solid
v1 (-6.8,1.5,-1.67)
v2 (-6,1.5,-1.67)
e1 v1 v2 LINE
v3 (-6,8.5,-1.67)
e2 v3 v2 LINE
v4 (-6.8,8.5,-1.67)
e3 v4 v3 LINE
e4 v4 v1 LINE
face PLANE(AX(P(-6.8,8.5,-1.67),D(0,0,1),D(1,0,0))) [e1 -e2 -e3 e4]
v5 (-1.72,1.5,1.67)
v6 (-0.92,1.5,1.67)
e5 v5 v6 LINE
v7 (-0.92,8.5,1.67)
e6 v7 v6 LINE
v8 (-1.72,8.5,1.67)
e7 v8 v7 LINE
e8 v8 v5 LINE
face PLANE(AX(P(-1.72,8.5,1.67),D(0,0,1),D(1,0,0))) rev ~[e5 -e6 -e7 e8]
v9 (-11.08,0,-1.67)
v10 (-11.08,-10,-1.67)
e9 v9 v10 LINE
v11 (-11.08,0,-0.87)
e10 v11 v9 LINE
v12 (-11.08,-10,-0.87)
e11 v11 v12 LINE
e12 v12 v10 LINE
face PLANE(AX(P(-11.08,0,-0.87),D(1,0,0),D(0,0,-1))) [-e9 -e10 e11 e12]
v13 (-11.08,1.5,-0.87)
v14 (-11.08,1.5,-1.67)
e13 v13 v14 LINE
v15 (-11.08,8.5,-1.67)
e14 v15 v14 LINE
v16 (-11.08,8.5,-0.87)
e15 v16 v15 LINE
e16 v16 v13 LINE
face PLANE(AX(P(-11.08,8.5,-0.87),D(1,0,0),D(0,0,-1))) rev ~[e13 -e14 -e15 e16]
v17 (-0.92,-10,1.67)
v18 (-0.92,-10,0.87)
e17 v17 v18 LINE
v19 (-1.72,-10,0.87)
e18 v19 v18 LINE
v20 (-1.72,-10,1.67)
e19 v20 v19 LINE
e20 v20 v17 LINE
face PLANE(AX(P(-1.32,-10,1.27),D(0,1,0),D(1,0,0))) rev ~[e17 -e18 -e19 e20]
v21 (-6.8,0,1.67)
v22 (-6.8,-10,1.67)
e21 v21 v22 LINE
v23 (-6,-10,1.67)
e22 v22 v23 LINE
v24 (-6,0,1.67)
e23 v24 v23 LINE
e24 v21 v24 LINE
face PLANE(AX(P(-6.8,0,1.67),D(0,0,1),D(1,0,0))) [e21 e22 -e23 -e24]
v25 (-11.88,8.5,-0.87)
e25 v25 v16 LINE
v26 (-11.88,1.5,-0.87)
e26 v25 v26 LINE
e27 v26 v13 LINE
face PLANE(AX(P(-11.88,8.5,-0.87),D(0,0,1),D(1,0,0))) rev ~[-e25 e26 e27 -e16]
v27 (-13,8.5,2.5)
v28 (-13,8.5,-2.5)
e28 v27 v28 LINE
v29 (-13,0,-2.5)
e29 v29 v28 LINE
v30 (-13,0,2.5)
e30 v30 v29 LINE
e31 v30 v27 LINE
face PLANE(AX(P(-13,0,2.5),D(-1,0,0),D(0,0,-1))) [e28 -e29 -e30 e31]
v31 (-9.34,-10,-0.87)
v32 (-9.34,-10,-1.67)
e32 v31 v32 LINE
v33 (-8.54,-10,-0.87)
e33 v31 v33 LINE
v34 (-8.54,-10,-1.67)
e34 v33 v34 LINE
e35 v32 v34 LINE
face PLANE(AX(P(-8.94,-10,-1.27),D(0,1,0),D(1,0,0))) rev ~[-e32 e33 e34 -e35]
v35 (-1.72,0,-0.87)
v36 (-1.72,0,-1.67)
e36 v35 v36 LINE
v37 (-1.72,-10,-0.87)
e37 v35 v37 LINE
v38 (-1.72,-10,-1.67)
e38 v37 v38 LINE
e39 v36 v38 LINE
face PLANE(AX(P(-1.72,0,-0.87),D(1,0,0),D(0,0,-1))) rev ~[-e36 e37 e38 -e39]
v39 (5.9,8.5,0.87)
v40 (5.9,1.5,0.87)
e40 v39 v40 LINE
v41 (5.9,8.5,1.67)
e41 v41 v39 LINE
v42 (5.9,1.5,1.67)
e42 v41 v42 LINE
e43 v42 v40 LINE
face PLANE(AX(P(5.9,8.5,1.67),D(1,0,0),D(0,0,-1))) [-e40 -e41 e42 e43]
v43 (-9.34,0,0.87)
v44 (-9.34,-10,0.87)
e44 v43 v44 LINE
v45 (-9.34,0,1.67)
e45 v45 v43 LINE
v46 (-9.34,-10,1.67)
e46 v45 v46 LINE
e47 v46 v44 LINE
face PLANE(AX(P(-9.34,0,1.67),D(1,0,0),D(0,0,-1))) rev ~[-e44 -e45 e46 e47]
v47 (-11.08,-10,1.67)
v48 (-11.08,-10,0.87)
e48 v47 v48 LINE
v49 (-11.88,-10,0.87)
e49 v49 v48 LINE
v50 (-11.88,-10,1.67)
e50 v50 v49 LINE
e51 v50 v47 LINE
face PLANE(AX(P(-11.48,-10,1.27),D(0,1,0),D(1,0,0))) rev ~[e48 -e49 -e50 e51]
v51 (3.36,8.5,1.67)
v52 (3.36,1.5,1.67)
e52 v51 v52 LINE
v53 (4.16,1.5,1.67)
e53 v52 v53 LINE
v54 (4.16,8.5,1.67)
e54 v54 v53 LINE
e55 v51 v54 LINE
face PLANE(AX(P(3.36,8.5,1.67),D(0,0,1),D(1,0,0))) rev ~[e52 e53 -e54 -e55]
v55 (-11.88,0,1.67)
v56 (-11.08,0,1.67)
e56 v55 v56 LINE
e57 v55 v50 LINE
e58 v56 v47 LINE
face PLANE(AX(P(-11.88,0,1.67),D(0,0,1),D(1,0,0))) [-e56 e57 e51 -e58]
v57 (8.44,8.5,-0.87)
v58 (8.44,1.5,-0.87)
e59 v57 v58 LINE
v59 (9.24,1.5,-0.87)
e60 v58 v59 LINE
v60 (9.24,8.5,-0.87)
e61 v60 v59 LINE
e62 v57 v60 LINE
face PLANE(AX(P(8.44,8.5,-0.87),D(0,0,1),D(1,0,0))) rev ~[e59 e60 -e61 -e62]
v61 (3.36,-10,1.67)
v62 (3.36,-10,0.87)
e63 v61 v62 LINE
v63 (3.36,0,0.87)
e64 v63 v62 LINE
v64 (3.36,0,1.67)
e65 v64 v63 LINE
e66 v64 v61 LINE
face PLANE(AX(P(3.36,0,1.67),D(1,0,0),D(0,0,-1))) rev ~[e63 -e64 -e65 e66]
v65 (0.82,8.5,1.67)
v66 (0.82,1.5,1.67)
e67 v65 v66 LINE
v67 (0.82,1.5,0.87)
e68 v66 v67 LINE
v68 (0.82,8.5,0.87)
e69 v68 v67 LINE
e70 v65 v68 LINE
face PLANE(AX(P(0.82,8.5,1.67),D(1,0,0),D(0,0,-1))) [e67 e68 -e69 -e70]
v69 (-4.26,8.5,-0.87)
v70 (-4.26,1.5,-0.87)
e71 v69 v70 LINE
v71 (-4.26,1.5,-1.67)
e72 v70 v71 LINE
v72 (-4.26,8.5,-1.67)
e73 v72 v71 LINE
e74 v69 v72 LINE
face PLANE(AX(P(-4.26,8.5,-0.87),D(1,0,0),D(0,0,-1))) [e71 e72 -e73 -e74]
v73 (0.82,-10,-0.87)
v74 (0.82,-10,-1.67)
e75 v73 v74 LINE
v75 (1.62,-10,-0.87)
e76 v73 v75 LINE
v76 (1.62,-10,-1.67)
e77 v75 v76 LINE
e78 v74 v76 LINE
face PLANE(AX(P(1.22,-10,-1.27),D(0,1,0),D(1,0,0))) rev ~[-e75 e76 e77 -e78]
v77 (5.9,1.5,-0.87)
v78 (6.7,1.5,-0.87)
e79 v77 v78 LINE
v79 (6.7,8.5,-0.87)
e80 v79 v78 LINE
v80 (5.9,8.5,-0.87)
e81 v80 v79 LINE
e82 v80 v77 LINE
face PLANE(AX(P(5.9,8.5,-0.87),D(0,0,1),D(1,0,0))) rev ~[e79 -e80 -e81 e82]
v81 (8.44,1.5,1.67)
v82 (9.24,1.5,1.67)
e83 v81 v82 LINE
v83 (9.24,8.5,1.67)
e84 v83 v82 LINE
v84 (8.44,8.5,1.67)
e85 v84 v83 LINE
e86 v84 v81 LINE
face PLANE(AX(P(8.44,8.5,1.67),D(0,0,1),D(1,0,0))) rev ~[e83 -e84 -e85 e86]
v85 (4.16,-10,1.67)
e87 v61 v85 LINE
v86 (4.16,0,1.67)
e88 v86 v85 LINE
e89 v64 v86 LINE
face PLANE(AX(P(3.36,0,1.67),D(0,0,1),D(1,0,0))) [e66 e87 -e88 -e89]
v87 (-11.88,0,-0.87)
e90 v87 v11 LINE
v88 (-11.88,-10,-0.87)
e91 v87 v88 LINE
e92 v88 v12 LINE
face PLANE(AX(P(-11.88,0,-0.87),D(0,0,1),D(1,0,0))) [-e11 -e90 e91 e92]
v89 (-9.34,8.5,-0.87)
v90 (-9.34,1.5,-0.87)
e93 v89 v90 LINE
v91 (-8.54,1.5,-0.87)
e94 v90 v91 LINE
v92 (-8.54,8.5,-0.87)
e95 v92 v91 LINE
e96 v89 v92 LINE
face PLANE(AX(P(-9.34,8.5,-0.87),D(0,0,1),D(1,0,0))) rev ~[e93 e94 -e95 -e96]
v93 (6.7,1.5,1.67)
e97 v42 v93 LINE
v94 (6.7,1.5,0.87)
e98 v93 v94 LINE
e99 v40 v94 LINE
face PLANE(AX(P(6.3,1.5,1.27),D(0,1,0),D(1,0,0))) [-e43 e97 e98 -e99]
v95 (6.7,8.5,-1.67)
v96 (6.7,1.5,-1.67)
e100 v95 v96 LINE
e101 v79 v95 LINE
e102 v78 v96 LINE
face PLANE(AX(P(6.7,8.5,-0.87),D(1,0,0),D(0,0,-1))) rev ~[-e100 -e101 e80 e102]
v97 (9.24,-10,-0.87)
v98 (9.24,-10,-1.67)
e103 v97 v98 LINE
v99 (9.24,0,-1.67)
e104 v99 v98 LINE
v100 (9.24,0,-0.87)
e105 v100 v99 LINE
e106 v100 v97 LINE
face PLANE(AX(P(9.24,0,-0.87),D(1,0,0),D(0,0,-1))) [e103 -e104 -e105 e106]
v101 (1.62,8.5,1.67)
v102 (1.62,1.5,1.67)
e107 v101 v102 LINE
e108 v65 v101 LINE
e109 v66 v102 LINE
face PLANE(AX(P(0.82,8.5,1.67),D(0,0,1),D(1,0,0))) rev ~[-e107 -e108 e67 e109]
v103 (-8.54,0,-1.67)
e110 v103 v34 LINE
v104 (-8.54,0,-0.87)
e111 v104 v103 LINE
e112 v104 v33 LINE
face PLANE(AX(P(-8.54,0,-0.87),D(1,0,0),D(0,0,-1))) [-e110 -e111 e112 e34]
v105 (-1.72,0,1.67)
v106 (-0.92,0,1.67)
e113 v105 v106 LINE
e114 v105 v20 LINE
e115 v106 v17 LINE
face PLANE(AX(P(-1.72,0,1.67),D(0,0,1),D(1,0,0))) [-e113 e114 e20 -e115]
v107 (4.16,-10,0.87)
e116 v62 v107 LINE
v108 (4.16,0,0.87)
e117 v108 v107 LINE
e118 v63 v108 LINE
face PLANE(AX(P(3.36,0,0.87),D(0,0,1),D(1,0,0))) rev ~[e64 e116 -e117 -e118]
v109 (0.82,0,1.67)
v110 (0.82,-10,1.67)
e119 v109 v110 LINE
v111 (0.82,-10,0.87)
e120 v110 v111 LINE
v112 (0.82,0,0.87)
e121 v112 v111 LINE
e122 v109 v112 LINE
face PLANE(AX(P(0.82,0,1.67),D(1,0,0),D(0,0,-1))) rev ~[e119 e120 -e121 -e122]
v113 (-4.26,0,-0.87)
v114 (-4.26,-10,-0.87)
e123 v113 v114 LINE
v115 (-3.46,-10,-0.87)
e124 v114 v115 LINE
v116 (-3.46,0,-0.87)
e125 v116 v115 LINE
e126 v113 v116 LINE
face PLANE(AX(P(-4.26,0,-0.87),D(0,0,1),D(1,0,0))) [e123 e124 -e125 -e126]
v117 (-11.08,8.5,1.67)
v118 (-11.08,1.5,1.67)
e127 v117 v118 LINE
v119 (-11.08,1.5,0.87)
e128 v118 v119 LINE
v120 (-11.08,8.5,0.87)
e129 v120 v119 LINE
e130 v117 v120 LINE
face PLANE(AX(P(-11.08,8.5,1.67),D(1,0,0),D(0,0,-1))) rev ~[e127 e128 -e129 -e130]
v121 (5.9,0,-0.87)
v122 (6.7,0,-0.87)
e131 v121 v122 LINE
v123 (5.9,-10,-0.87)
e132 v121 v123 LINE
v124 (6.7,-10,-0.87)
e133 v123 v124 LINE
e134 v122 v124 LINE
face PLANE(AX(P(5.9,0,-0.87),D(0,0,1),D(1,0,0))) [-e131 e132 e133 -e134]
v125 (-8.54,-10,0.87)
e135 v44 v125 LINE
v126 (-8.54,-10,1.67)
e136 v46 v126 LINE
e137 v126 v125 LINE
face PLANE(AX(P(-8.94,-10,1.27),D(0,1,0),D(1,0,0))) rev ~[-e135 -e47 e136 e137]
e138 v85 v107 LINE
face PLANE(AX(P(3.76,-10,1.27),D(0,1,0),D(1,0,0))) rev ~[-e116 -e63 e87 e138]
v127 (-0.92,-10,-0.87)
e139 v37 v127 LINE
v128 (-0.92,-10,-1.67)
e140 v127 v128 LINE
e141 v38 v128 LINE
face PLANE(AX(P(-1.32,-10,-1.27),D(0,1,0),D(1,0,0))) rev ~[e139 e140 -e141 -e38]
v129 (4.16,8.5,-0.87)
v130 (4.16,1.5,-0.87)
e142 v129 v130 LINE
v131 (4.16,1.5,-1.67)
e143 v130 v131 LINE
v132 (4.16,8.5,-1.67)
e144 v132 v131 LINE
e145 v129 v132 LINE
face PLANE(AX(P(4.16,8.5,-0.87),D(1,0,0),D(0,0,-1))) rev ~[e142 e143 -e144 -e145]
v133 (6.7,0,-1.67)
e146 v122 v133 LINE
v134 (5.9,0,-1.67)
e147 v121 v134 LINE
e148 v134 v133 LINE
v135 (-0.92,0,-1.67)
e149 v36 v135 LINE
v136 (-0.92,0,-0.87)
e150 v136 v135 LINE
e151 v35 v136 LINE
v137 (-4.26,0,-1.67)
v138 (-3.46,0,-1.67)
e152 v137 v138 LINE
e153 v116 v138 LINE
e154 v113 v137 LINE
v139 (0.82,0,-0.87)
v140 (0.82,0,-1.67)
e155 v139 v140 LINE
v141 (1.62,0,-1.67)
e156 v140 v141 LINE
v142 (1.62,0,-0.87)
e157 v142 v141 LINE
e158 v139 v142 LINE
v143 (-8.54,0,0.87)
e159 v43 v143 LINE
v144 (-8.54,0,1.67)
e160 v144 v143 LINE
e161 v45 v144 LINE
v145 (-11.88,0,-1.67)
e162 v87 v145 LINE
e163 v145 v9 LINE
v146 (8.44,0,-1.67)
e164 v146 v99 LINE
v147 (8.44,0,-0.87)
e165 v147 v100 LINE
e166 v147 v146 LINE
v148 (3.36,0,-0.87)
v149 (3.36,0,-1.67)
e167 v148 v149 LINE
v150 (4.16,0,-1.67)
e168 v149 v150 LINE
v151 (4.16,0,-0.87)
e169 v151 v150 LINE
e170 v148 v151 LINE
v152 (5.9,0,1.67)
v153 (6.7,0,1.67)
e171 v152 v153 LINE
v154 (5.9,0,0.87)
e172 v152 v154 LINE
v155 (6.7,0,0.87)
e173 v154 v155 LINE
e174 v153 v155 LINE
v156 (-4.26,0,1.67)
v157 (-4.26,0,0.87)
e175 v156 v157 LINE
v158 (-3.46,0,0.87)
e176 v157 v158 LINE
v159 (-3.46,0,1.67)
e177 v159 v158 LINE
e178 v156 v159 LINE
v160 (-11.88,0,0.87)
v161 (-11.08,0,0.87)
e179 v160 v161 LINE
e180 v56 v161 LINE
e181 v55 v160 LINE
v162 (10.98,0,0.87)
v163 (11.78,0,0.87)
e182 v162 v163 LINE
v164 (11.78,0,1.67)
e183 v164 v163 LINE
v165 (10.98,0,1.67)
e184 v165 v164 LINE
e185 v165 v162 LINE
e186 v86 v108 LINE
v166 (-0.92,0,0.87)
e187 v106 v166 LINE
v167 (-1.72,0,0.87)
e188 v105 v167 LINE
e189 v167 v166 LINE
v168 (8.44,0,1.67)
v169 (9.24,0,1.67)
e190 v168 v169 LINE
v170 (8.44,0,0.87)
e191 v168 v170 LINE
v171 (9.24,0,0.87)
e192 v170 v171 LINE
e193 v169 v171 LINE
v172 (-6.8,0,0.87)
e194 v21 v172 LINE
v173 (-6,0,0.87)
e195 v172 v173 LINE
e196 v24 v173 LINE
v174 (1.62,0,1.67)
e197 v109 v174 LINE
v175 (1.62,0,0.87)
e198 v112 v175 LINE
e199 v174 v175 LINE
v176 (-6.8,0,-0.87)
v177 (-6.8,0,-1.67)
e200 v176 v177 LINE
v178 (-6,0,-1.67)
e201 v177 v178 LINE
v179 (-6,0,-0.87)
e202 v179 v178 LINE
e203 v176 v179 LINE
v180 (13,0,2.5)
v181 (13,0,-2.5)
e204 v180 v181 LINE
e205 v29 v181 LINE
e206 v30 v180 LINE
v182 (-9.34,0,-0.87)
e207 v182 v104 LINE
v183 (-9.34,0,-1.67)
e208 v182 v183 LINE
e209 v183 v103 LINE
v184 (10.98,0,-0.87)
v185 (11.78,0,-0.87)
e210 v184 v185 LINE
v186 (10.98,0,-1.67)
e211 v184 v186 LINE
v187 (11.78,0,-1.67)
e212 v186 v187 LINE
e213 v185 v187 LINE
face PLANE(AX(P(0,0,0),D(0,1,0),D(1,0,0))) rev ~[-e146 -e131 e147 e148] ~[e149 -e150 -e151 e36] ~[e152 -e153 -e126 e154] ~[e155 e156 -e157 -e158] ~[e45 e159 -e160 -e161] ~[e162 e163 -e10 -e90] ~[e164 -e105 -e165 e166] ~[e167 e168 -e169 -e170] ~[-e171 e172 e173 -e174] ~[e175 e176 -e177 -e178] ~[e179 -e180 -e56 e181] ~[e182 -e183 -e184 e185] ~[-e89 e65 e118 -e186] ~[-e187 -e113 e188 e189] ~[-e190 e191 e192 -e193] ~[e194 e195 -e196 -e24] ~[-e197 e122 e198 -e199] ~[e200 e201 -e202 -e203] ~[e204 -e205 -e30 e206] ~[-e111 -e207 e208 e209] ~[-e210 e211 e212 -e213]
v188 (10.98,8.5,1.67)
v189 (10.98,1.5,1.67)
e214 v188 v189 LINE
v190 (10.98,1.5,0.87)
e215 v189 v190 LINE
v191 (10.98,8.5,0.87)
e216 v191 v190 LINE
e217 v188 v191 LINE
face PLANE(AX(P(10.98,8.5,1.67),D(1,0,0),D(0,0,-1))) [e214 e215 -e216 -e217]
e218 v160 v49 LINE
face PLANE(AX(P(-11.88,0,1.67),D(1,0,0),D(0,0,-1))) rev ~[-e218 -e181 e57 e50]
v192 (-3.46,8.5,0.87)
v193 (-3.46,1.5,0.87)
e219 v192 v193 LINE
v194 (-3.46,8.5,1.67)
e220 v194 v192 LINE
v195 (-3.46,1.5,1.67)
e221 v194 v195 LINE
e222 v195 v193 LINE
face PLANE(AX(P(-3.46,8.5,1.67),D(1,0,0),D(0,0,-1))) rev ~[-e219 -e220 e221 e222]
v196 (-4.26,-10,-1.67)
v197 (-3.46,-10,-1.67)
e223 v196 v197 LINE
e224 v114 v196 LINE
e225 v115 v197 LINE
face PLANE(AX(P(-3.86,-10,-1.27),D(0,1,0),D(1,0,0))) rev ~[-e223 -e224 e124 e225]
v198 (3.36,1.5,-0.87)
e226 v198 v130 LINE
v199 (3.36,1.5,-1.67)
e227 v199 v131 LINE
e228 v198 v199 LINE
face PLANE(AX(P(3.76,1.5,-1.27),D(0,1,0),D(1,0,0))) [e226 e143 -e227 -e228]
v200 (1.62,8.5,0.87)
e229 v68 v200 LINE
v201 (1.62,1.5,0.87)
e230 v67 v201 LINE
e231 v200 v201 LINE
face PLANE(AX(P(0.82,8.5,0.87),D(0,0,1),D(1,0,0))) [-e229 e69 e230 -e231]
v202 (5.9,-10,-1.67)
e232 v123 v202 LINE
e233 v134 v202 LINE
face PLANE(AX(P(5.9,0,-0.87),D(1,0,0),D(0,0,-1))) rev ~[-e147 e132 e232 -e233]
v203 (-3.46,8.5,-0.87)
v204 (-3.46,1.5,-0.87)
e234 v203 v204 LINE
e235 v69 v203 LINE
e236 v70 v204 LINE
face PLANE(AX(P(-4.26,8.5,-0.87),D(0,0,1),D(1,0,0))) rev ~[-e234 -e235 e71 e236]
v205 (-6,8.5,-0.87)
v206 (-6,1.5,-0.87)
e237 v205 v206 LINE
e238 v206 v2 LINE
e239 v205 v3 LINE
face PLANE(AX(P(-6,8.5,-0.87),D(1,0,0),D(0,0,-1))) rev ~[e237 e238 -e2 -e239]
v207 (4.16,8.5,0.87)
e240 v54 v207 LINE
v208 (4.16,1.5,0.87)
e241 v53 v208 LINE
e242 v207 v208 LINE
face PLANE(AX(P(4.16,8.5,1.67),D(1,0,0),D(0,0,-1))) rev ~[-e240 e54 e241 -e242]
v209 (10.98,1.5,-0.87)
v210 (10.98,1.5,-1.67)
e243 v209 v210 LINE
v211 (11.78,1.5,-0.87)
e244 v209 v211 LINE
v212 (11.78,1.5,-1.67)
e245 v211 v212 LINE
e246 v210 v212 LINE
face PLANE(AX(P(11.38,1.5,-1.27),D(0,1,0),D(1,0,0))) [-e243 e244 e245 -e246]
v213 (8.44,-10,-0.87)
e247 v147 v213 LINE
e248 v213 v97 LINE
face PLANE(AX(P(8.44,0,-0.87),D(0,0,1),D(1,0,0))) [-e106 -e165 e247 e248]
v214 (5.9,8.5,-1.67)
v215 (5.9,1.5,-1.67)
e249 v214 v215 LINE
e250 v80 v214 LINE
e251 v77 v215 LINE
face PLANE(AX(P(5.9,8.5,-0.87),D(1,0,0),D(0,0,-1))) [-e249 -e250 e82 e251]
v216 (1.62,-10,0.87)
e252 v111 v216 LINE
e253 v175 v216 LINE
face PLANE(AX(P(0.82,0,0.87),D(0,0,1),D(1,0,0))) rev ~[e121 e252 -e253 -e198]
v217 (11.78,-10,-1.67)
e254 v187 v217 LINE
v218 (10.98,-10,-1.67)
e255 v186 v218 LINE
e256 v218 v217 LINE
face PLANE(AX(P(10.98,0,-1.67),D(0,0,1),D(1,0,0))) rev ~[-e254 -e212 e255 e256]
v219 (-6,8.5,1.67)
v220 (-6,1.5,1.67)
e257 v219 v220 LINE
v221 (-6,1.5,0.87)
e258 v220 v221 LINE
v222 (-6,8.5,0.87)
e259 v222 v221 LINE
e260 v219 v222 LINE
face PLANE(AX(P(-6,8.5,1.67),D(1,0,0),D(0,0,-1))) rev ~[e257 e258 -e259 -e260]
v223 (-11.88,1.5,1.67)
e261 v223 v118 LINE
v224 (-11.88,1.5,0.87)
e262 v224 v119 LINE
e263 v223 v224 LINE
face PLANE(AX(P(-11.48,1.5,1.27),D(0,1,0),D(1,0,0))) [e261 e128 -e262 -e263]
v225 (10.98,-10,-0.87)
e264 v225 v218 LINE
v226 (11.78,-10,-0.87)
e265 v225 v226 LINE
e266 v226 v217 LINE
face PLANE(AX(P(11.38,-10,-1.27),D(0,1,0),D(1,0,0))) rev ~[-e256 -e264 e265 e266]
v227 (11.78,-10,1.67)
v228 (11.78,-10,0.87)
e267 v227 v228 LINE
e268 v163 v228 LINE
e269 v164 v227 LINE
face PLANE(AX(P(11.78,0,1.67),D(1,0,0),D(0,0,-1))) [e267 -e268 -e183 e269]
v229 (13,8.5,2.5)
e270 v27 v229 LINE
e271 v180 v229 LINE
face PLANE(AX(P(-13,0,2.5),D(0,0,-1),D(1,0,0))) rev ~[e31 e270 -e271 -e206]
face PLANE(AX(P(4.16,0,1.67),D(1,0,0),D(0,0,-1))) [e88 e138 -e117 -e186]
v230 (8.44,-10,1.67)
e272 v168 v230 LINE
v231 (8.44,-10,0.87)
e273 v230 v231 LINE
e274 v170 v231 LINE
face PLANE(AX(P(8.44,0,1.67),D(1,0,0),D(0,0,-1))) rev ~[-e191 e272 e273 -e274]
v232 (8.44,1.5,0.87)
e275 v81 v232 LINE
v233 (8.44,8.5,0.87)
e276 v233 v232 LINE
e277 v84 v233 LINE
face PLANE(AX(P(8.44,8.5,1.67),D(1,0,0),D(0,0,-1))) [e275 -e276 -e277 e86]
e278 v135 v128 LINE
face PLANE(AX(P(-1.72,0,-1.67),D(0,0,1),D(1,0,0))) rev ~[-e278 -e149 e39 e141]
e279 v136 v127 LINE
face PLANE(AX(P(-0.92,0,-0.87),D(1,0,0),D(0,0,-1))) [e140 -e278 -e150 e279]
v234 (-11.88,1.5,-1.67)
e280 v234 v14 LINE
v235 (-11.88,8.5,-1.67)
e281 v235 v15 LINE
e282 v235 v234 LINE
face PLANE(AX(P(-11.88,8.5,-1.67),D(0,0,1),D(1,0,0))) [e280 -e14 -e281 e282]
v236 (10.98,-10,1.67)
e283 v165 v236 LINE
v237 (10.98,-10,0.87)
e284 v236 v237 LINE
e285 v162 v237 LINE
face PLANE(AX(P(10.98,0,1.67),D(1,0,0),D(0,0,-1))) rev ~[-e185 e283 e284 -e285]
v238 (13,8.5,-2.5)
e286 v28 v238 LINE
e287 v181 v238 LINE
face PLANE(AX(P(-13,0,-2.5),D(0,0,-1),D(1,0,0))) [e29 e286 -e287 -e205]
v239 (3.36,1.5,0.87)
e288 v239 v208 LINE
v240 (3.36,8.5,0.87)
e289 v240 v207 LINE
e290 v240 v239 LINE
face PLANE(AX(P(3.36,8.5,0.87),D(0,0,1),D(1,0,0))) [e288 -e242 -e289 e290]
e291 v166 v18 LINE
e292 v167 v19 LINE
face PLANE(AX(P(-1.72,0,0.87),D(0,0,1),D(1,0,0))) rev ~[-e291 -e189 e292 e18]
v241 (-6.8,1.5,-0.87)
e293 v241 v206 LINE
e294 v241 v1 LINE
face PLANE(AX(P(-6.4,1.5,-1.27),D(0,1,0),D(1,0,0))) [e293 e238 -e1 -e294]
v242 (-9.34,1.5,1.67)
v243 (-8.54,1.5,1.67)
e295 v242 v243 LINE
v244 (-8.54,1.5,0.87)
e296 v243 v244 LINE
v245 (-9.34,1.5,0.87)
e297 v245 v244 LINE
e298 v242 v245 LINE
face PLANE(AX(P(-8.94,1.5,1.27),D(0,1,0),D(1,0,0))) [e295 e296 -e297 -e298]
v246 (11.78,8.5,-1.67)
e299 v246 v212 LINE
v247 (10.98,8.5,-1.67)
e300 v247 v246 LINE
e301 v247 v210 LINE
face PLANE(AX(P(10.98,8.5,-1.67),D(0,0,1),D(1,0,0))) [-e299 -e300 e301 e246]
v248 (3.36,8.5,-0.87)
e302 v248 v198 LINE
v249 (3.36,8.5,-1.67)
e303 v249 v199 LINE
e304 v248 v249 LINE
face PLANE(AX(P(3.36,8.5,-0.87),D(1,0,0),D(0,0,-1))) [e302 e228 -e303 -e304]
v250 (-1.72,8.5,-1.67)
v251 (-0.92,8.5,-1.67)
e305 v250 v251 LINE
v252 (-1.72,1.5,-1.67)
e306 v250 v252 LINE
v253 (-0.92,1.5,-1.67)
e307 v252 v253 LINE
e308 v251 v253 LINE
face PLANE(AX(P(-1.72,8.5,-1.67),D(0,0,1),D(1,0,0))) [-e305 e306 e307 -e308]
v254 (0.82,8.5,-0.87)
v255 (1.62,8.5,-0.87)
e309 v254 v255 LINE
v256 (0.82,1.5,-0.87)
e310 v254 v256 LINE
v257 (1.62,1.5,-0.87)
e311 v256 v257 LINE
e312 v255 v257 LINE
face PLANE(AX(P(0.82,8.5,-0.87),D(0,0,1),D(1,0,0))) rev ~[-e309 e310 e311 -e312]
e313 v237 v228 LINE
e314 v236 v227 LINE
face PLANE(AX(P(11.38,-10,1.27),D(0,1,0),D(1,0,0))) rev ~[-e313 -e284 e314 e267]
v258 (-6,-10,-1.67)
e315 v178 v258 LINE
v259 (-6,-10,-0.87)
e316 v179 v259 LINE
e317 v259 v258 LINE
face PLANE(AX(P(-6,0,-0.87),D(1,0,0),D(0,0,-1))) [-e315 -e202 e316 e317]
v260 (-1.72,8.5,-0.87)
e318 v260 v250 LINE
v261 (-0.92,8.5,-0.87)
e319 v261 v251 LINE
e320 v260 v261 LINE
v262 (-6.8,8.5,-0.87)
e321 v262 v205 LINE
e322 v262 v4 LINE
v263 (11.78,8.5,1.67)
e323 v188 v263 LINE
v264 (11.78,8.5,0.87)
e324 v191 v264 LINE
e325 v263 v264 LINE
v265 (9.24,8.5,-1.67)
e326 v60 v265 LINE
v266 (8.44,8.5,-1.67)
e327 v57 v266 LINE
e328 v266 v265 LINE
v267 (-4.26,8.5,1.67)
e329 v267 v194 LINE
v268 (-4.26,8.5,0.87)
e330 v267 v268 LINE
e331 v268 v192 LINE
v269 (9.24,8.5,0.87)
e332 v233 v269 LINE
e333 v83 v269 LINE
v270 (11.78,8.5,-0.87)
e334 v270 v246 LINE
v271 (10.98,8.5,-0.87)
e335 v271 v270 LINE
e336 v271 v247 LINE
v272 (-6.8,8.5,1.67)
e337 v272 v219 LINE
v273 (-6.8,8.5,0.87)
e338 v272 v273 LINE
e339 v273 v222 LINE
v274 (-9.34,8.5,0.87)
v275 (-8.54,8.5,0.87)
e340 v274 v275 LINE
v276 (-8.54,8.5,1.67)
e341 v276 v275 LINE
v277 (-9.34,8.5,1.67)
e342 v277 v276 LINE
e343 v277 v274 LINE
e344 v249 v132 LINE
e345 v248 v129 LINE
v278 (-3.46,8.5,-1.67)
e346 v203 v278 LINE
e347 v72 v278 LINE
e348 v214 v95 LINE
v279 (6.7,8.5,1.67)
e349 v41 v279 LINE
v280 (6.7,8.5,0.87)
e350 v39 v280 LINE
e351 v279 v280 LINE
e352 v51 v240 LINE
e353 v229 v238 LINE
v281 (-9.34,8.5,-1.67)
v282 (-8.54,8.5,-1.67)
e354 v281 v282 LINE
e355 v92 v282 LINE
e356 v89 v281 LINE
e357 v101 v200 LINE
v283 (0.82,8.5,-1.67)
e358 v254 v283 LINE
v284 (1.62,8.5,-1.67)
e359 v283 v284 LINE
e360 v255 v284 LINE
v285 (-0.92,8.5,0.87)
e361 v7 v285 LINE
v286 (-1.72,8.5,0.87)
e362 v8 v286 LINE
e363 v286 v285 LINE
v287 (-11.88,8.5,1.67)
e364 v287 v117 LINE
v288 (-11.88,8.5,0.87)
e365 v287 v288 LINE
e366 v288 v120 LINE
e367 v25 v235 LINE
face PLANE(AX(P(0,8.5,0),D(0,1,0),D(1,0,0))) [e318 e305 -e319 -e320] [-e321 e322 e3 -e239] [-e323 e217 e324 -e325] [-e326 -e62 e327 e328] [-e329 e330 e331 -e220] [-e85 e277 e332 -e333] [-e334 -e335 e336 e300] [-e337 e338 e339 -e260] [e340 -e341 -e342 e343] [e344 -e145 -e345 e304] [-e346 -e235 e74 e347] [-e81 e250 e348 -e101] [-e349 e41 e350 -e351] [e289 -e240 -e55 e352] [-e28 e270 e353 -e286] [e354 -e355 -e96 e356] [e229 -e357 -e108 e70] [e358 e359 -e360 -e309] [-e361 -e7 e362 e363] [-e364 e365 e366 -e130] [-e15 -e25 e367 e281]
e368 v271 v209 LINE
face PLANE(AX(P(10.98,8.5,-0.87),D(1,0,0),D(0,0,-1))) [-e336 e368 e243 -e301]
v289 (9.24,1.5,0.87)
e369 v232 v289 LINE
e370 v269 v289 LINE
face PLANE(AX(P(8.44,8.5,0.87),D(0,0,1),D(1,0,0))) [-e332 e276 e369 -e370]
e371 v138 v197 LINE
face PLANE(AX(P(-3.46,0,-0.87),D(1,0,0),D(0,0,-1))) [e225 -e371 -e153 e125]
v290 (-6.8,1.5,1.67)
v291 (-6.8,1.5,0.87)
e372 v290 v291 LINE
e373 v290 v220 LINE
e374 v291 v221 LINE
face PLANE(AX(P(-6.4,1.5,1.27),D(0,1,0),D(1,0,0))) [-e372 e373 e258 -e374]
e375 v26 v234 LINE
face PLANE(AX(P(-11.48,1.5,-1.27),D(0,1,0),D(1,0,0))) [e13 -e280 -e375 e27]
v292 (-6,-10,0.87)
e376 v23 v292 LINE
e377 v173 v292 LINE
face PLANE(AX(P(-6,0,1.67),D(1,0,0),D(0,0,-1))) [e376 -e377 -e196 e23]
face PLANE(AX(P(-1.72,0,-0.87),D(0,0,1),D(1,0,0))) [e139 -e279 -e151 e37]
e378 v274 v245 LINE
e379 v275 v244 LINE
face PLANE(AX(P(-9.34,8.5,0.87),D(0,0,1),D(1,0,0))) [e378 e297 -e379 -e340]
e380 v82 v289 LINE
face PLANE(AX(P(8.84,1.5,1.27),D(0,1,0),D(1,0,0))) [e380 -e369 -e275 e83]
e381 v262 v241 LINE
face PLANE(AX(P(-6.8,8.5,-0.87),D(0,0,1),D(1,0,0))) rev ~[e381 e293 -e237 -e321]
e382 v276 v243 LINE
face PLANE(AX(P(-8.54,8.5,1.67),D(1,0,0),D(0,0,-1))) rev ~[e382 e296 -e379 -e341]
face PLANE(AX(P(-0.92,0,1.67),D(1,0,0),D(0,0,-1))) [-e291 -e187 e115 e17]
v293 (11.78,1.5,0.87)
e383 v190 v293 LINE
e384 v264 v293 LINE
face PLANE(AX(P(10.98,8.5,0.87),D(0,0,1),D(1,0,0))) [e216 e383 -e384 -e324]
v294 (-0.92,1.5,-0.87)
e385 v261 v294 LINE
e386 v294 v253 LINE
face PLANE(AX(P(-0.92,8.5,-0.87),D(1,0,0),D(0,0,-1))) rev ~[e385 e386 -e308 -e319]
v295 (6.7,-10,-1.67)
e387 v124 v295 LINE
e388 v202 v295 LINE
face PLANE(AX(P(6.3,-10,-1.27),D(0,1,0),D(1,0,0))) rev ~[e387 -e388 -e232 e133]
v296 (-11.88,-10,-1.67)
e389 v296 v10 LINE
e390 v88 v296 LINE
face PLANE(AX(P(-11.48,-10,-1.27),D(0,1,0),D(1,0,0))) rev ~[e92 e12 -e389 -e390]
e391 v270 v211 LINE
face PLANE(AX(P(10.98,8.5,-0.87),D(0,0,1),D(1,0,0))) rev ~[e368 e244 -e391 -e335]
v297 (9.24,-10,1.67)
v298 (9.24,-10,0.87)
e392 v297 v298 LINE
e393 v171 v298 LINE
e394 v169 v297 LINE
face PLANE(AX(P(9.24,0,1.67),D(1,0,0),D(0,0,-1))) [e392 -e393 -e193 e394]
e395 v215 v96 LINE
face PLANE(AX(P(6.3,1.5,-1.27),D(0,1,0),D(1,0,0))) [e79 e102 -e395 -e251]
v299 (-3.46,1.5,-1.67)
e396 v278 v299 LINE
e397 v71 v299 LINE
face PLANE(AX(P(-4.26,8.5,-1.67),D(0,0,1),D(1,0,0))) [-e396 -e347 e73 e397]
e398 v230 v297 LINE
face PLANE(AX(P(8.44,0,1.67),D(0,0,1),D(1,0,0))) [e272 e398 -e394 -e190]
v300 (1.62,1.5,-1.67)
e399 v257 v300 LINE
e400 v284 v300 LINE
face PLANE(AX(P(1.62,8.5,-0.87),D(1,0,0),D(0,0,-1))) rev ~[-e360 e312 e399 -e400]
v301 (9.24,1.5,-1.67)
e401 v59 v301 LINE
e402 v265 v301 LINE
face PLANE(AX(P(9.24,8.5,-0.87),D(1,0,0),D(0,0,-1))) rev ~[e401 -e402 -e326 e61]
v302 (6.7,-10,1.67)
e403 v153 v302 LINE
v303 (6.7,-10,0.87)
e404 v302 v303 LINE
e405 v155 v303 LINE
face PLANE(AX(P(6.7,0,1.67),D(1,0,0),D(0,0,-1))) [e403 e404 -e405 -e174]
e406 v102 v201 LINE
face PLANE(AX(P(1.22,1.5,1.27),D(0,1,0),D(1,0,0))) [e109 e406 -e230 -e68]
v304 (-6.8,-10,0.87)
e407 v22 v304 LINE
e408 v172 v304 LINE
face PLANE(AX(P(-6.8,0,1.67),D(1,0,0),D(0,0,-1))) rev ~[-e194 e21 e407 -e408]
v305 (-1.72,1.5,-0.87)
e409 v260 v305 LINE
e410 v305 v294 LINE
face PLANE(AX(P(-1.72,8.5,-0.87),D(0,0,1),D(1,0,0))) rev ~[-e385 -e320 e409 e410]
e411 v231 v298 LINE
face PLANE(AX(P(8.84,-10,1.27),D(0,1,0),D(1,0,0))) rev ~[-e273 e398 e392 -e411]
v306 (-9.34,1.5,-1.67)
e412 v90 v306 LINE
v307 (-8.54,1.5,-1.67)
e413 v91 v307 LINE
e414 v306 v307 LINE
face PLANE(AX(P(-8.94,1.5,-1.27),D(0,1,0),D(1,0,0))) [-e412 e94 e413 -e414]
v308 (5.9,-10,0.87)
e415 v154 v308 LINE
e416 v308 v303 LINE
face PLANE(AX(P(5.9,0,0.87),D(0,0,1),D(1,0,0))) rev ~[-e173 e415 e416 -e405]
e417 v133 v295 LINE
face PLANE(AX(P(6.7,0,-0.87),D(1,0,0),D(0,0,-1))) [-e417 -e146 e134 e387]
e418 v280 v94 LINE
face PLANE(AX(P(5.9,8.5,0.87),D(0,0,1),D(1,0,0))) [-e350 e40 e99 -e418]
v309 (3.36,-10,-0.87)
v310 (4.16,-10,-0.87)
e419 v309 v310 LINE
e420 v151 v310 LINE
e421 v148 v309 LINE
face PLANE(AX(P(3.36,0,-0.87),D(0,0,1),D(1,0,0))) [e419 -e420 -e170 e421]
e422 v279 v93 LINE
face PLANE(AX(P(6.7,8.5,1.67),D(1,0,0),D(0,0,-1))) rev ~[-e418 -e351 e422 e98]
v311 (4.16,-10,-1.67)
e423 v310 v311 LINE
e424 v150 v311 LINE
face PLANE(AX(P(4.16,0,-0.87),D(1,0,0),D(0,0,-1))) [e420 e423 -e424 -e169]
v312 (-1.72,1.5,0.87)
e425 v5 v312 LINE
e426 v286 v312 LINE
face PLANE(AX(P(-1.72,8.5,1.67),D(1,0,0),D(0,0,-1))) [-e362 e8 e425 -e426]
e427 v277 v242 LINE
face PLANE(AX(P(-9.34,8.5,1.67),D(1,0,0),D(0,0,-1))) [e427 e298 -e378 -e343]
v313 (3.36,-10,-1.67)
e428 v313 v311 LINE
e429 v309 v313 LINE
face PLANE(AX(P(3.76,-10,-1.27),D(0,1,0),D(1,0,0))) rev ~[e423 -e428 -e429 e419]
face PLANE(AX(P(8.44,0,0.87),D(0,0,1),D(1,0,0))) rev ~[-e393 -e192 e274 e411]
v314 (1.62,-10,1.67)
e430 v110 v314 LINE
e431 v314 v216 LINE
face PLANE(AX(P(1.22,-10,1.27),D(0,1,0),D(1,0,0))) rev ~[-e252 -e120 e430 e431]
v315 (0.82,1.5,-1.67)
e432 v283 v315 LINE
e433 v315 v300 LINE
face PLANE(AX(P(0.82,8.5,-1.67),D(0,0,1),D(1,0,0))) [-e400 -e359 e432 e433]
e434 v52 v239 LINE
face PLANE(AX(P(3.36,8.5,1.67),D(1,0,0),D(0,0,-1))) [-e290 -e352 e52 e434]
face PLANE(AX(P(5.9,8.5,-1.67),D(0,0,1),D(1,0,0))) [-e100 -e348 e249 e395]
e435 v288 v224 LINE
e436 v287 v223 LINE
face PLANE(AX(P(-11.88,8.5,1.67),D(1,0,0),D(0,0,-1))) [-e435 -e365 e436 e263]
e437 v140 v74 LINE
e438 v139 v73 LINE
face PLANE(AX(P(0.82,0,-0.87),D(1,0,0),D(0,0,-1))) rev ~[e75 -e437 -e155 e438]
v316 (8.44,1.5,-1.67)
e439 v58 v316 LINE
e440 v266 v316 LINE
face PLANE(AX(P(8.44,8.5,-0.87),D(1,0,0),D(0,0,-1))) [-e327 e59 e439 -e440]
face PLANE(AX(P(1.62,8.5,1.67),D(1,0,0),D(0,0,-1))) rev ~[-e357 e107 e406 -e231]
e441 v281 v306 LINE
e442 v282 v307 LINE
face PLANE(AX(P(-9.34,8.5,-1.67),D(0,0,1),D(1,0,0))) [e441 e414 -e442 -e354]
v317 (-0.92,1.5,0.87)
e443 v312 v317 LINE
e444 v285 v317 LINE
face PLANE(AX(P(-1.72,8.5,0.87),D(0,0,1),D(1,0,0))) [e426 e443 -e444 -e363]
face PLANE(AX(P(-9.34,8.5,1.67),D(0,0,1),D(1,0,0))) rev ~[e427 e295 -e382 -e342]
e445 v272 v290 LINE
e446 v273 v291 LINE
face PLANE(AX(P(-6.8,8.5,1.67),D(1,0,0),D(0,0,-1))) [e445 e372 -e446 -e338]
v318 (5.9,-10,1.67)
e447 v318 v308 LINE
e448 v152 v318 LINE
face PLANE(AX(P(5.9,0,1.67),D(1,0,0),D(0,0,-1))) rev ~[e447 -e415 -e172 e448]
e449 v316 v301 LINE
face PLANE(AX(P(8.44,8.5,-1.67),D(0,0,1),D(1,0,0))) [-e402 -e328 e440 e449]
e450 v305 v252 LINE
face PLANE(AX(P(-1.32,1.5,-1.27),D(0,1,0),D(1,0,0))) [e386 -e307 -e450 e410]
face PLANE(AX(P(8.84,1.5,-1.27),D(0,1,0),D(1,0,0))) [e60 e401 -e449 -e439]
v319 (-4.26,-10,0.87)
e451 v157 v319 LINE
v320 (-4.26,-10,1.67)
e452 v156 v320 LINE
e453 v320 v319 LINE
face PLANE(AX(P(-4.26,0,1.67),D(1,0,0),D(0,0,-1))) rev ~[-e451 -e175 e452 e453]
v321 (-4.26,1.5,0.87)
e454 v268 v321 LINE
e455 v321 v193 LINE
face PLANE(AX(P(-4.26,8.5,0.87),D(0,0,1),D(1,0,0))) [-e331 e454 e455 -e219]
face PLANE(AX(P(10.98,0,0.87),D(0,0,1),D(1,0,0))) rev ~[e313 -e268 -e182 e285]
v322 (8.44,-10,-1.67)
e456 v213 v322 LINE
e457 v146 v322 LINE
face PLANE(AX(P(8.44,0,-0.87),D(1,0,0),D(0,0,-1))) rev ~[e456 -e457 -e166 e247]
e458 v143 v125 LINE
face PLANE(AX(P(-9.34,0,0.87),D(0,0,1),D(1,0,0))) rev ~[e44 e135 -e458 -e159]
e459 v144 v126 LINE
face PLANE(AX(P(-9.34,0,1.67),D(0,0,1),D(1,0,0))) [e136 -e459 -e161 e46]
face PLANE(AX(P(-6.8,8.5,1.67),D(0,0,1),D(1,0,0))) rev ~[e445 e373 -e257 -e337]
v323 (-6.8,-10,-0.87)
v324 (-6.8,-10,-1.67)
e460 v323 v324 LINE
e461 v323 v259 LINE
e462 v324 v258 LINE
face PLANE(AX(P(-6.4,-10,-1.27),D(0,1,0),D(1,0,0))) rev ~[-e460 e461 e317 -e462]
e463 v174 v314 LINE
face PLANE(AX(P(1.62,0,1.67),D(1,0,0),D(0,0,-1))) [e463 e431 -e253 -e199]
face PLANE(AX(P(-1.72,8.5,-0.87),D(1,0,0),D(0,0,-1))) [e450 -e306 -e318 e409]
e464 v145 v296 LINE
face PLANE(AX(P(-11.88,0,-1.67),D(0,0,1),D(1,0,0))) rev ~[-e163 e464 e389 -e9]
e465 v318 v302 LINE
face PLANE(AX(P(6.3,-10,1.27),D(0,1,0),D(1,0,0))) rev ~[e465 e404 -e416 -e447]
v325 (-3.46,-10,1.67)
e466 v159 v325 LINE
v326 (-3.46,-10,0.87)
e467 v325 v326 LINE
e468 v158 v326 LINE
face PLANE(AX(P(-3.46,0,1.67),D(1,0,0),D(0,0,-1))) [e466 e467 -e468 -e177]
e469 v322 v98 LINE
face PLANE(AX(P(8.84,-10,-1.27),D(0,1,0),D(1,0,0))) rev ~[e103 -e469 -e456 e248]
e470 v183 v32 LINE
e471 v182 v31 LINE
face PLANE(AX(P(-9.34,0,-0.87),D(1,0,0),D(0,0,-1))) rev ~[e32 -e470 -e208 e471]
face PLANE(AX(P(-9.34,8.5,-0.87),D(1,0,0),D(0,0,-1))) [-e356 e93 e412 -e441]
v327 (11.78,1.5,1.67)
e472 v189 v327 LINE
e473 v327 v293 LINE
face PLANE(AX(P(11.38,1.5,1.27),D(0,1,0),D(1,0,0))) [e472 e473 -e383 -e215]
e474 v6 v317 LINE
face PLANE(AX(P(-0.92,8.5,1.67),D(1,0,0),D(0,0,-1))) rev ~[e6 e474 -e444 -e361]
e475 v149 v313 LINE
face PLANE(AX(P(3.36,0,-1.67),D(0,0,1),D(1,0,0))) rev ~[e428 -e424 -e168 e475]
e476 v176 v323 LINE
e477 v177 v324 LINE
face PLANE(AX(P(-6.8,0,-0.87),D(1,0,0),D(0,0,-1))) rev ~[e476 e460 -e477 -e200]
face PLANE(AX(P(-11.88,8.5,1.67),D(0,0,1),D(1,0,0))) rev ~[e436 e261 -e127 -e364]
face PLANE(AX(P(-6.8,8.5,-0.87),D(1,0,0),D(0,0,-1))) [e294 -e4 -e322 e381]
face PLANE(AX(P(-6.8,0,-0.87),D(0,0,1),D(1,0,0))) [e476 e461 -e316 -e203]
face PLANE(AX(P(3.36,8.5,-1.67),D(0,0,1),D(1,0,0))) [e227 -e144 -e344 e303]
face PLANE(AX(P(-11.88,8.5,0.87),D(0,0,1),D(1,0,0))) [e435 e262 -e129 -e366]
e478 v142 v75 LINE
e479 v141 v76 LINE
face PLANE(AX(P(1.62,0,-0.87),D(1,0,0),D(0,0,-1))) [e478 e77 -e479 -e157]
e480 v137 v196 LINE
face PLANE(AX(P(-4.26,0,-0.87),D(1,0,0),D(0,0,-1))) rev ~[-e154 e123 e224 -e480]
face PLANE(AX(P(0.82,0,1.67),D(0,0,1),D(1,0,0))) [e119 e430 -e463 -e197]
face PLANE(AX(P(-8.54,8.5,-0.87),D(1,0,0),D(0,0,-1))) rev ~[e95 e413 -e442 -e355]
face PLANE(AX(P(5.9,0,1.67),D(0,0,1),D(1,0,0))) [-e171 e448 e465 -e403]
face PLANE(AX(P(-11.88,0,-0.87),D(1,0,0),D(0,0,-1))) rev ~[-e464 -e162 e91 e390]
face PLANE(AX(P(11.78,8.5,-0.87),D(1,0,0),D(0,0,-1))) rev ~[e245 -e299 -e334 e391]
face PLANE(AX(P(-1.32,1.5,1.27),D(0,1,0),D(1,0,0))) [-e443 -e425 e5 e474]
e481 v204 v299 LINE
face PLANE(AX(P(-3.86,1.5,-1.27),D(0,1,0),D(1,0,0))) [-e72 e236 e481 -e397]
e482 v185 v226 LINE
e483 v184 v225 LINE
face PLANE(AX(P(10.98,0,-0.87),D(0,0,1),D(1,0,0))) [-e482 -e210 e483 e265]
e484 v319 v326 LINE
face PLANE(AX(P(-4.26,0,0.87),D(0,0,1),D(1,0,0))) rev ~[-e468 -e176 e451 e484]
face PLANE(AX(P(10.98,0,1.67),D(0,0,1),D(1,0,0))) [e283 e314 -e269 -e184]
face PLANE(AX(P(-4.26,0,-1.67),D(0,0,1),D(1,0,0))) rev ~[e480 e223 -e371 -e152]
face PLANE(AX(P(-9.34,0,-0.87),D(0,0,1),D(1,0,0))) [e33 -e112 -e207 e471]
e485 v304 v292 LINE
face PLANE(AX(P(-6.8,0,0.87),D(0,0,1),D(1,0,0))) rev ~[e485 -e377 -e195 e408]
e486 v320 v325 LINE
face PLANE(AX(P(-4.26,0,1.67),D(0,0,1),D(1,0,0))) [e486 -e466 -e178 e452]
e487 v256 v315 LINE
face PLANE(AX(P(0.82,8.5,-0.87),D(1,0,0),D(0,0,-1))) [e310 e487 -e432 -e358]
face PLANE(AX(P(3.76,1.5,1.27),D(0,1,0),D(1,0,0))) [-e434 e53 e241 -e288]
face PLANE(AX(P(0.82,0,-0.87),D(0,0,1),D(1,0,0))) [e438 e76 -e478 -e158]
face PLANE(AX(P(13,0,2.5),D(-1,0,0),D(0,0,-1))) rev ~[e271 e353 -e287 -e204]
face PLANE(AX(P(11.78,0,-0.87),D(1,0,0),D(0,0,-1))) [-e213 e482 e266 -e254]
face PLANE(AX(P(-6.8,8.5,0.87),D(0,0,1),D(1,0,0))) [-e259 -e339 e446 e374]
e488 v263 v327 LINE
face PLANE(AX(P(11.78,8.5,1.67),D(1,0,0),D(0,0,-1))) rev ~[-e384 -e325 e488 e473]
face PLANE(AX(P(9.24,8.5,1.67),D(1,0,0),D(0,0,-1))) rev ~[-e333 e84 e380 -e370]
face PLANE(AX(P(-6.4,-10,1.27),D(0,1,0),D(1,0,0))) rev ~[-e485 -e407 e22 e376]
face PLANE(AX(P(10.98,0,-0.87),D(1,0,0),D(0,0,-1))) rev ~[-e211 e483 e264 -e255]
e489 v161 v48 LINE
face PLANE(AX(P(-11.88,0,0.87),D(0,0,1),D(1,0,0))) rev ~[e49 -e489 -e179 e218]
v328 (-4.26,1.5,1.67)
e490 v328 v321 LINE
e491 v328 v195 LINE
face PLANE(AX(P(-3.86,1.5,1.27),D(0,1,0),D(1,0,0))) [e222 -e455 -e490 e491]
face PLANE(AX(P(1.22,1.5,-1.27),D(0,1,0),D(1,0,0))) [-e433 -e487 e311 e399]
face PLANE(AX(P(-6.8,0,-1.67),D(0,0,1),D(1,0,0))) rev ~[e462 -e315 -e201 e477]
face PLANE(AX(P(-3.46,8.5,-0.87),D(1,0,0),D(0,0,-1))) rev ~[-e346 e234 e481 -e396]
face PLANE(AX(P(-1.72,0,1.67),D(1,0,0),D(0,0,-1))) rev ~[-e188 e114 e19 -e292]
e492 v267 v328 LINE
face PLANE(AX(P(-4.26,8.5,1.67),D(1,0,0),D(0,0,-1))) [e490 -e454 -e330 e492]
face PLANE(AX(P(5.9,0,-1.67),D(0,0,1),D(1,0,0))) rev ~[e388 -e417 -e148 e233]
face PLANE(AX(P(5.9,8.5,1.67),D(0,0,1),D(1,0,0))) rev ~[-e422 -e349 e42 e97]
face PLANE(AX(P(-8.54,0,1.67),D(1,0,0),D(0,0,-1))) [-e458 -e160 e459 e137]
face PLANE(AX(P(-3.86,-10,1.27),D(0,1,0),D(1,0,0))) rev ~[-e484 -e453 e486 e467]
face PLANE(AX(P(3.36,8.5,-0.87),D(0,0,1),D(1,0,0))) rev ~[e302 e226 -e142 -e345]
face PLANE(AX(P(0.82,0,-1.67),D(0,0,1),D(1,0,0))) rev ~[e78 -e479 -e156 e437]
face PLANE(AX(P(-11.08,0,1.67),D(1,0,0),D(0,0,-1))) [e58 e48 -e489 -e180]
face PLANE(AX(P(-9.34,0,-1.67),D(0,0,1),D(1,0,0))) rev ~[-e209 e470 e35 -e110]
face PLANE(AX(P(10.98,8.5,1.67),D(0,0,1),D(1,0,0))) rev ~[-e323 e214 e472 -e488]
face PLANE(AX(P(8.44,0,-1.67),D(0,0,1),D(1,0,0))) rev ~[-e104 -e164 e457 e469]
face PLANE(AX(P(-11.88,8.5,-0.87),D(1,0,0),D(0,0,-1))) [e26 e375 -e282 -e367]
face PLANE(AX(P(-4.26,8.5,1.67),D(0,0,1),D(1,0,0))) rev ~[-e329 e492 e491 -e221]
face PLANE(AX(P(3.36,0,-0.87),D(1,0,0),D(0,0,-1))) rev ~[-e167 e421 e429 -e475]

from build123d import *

# Parameters (mm, degrees)
SKIZZE1_W                       = 26
SKIZZE1_H                       = 5
AUFSATZ_LINEAR_AUSTRAGEN1_DEPTH = 8.5
SKIZZE2_W                       = 0.8
SKIZZE2_H                       = 0.8
AUFSATZ_LINEAR_AUSTRAGEN2_DEPTH = 10
SKIZZE3_W                       = 0.8
SKIZZE3_H                       = 0.8
SCHNITT_LINEAR_AUSTRAGEN1_DEPTH = 7
LINEARES_MUSTER1_COUNT          = 10
LINEARES_MUSTER1_PITCH          = 2.54
LINEARES_MUSTER1_COUNT_DIR2     = 2
LINEARES_MUSTER1_PITCH_DIR2     = 2.54


with BuildPart() as part:
    # Skizze1 → Aufsatz-Linear austragen1 (new body)
    with BuildSketch(Plane(origin=(0, 0, 0), x_dir=(1, 0, 0), z_dir=(0, 1, 0))):
        Rectangle(SKIZZE1_W, SKIZZE1_H)
    extrude(amount=AUFSATZ_LINEAR_AUSTRAGEN1_DEPTH)

    # Skizze2 → Aufsatz-Linear austragen2 (add)
    with BuildSketch(Plane(origin=(0, 0, 0), x_dir=(1, 0, 0), z_dir=(0, 1, 0))):
        with Locations((-11.48, -1.27)):
            Rectangle(SKIZZE2_W, SKIZZE2_H)
    aufsatz_linear_austragen2 = extrude(amount=-AUFSATZ_LINEAR_AUSTRAGEN2_DEPTH)

    # Skizze3 → Schnitt-Linear austragen1 (cut)
    with BuildSketch(Plane(origin=(0, 8.5, 0), x_dir=(1, 0, 0), z_dir=(0, 1, 0))):
        with Locations((-11.48, -1.27)):
            Rectangle(SKIZZE3_W, SKIZZE3_H)
    schnitt_linear_austragen1 = extrude(amount=-SCHNITT_LINEAR_AUSTRAGEN1_DEPTH, mode=Mode.SUBTRACT)

    # Lineares Muster1: Aufsatz-Linear austragen2, Schnitt-Linear austragen1 10 × 2
    with Locations(*[(i * LINEARES_MUSTER1_PITCH, 0, -j * LINEARES_MUSTER1_PITCH_DIR2) for i in range(LINEARES_MUSTER1_COUNT) for j in range(LINEARES_MUSTER1_COUNT_DIR2) if (i, j) != (0, 0)]):
        add(aufsatz_linear_austragen2)
        add(schnitt_linear_austragen1, mode=Mode.SUBTRACT)


solid = part.part
